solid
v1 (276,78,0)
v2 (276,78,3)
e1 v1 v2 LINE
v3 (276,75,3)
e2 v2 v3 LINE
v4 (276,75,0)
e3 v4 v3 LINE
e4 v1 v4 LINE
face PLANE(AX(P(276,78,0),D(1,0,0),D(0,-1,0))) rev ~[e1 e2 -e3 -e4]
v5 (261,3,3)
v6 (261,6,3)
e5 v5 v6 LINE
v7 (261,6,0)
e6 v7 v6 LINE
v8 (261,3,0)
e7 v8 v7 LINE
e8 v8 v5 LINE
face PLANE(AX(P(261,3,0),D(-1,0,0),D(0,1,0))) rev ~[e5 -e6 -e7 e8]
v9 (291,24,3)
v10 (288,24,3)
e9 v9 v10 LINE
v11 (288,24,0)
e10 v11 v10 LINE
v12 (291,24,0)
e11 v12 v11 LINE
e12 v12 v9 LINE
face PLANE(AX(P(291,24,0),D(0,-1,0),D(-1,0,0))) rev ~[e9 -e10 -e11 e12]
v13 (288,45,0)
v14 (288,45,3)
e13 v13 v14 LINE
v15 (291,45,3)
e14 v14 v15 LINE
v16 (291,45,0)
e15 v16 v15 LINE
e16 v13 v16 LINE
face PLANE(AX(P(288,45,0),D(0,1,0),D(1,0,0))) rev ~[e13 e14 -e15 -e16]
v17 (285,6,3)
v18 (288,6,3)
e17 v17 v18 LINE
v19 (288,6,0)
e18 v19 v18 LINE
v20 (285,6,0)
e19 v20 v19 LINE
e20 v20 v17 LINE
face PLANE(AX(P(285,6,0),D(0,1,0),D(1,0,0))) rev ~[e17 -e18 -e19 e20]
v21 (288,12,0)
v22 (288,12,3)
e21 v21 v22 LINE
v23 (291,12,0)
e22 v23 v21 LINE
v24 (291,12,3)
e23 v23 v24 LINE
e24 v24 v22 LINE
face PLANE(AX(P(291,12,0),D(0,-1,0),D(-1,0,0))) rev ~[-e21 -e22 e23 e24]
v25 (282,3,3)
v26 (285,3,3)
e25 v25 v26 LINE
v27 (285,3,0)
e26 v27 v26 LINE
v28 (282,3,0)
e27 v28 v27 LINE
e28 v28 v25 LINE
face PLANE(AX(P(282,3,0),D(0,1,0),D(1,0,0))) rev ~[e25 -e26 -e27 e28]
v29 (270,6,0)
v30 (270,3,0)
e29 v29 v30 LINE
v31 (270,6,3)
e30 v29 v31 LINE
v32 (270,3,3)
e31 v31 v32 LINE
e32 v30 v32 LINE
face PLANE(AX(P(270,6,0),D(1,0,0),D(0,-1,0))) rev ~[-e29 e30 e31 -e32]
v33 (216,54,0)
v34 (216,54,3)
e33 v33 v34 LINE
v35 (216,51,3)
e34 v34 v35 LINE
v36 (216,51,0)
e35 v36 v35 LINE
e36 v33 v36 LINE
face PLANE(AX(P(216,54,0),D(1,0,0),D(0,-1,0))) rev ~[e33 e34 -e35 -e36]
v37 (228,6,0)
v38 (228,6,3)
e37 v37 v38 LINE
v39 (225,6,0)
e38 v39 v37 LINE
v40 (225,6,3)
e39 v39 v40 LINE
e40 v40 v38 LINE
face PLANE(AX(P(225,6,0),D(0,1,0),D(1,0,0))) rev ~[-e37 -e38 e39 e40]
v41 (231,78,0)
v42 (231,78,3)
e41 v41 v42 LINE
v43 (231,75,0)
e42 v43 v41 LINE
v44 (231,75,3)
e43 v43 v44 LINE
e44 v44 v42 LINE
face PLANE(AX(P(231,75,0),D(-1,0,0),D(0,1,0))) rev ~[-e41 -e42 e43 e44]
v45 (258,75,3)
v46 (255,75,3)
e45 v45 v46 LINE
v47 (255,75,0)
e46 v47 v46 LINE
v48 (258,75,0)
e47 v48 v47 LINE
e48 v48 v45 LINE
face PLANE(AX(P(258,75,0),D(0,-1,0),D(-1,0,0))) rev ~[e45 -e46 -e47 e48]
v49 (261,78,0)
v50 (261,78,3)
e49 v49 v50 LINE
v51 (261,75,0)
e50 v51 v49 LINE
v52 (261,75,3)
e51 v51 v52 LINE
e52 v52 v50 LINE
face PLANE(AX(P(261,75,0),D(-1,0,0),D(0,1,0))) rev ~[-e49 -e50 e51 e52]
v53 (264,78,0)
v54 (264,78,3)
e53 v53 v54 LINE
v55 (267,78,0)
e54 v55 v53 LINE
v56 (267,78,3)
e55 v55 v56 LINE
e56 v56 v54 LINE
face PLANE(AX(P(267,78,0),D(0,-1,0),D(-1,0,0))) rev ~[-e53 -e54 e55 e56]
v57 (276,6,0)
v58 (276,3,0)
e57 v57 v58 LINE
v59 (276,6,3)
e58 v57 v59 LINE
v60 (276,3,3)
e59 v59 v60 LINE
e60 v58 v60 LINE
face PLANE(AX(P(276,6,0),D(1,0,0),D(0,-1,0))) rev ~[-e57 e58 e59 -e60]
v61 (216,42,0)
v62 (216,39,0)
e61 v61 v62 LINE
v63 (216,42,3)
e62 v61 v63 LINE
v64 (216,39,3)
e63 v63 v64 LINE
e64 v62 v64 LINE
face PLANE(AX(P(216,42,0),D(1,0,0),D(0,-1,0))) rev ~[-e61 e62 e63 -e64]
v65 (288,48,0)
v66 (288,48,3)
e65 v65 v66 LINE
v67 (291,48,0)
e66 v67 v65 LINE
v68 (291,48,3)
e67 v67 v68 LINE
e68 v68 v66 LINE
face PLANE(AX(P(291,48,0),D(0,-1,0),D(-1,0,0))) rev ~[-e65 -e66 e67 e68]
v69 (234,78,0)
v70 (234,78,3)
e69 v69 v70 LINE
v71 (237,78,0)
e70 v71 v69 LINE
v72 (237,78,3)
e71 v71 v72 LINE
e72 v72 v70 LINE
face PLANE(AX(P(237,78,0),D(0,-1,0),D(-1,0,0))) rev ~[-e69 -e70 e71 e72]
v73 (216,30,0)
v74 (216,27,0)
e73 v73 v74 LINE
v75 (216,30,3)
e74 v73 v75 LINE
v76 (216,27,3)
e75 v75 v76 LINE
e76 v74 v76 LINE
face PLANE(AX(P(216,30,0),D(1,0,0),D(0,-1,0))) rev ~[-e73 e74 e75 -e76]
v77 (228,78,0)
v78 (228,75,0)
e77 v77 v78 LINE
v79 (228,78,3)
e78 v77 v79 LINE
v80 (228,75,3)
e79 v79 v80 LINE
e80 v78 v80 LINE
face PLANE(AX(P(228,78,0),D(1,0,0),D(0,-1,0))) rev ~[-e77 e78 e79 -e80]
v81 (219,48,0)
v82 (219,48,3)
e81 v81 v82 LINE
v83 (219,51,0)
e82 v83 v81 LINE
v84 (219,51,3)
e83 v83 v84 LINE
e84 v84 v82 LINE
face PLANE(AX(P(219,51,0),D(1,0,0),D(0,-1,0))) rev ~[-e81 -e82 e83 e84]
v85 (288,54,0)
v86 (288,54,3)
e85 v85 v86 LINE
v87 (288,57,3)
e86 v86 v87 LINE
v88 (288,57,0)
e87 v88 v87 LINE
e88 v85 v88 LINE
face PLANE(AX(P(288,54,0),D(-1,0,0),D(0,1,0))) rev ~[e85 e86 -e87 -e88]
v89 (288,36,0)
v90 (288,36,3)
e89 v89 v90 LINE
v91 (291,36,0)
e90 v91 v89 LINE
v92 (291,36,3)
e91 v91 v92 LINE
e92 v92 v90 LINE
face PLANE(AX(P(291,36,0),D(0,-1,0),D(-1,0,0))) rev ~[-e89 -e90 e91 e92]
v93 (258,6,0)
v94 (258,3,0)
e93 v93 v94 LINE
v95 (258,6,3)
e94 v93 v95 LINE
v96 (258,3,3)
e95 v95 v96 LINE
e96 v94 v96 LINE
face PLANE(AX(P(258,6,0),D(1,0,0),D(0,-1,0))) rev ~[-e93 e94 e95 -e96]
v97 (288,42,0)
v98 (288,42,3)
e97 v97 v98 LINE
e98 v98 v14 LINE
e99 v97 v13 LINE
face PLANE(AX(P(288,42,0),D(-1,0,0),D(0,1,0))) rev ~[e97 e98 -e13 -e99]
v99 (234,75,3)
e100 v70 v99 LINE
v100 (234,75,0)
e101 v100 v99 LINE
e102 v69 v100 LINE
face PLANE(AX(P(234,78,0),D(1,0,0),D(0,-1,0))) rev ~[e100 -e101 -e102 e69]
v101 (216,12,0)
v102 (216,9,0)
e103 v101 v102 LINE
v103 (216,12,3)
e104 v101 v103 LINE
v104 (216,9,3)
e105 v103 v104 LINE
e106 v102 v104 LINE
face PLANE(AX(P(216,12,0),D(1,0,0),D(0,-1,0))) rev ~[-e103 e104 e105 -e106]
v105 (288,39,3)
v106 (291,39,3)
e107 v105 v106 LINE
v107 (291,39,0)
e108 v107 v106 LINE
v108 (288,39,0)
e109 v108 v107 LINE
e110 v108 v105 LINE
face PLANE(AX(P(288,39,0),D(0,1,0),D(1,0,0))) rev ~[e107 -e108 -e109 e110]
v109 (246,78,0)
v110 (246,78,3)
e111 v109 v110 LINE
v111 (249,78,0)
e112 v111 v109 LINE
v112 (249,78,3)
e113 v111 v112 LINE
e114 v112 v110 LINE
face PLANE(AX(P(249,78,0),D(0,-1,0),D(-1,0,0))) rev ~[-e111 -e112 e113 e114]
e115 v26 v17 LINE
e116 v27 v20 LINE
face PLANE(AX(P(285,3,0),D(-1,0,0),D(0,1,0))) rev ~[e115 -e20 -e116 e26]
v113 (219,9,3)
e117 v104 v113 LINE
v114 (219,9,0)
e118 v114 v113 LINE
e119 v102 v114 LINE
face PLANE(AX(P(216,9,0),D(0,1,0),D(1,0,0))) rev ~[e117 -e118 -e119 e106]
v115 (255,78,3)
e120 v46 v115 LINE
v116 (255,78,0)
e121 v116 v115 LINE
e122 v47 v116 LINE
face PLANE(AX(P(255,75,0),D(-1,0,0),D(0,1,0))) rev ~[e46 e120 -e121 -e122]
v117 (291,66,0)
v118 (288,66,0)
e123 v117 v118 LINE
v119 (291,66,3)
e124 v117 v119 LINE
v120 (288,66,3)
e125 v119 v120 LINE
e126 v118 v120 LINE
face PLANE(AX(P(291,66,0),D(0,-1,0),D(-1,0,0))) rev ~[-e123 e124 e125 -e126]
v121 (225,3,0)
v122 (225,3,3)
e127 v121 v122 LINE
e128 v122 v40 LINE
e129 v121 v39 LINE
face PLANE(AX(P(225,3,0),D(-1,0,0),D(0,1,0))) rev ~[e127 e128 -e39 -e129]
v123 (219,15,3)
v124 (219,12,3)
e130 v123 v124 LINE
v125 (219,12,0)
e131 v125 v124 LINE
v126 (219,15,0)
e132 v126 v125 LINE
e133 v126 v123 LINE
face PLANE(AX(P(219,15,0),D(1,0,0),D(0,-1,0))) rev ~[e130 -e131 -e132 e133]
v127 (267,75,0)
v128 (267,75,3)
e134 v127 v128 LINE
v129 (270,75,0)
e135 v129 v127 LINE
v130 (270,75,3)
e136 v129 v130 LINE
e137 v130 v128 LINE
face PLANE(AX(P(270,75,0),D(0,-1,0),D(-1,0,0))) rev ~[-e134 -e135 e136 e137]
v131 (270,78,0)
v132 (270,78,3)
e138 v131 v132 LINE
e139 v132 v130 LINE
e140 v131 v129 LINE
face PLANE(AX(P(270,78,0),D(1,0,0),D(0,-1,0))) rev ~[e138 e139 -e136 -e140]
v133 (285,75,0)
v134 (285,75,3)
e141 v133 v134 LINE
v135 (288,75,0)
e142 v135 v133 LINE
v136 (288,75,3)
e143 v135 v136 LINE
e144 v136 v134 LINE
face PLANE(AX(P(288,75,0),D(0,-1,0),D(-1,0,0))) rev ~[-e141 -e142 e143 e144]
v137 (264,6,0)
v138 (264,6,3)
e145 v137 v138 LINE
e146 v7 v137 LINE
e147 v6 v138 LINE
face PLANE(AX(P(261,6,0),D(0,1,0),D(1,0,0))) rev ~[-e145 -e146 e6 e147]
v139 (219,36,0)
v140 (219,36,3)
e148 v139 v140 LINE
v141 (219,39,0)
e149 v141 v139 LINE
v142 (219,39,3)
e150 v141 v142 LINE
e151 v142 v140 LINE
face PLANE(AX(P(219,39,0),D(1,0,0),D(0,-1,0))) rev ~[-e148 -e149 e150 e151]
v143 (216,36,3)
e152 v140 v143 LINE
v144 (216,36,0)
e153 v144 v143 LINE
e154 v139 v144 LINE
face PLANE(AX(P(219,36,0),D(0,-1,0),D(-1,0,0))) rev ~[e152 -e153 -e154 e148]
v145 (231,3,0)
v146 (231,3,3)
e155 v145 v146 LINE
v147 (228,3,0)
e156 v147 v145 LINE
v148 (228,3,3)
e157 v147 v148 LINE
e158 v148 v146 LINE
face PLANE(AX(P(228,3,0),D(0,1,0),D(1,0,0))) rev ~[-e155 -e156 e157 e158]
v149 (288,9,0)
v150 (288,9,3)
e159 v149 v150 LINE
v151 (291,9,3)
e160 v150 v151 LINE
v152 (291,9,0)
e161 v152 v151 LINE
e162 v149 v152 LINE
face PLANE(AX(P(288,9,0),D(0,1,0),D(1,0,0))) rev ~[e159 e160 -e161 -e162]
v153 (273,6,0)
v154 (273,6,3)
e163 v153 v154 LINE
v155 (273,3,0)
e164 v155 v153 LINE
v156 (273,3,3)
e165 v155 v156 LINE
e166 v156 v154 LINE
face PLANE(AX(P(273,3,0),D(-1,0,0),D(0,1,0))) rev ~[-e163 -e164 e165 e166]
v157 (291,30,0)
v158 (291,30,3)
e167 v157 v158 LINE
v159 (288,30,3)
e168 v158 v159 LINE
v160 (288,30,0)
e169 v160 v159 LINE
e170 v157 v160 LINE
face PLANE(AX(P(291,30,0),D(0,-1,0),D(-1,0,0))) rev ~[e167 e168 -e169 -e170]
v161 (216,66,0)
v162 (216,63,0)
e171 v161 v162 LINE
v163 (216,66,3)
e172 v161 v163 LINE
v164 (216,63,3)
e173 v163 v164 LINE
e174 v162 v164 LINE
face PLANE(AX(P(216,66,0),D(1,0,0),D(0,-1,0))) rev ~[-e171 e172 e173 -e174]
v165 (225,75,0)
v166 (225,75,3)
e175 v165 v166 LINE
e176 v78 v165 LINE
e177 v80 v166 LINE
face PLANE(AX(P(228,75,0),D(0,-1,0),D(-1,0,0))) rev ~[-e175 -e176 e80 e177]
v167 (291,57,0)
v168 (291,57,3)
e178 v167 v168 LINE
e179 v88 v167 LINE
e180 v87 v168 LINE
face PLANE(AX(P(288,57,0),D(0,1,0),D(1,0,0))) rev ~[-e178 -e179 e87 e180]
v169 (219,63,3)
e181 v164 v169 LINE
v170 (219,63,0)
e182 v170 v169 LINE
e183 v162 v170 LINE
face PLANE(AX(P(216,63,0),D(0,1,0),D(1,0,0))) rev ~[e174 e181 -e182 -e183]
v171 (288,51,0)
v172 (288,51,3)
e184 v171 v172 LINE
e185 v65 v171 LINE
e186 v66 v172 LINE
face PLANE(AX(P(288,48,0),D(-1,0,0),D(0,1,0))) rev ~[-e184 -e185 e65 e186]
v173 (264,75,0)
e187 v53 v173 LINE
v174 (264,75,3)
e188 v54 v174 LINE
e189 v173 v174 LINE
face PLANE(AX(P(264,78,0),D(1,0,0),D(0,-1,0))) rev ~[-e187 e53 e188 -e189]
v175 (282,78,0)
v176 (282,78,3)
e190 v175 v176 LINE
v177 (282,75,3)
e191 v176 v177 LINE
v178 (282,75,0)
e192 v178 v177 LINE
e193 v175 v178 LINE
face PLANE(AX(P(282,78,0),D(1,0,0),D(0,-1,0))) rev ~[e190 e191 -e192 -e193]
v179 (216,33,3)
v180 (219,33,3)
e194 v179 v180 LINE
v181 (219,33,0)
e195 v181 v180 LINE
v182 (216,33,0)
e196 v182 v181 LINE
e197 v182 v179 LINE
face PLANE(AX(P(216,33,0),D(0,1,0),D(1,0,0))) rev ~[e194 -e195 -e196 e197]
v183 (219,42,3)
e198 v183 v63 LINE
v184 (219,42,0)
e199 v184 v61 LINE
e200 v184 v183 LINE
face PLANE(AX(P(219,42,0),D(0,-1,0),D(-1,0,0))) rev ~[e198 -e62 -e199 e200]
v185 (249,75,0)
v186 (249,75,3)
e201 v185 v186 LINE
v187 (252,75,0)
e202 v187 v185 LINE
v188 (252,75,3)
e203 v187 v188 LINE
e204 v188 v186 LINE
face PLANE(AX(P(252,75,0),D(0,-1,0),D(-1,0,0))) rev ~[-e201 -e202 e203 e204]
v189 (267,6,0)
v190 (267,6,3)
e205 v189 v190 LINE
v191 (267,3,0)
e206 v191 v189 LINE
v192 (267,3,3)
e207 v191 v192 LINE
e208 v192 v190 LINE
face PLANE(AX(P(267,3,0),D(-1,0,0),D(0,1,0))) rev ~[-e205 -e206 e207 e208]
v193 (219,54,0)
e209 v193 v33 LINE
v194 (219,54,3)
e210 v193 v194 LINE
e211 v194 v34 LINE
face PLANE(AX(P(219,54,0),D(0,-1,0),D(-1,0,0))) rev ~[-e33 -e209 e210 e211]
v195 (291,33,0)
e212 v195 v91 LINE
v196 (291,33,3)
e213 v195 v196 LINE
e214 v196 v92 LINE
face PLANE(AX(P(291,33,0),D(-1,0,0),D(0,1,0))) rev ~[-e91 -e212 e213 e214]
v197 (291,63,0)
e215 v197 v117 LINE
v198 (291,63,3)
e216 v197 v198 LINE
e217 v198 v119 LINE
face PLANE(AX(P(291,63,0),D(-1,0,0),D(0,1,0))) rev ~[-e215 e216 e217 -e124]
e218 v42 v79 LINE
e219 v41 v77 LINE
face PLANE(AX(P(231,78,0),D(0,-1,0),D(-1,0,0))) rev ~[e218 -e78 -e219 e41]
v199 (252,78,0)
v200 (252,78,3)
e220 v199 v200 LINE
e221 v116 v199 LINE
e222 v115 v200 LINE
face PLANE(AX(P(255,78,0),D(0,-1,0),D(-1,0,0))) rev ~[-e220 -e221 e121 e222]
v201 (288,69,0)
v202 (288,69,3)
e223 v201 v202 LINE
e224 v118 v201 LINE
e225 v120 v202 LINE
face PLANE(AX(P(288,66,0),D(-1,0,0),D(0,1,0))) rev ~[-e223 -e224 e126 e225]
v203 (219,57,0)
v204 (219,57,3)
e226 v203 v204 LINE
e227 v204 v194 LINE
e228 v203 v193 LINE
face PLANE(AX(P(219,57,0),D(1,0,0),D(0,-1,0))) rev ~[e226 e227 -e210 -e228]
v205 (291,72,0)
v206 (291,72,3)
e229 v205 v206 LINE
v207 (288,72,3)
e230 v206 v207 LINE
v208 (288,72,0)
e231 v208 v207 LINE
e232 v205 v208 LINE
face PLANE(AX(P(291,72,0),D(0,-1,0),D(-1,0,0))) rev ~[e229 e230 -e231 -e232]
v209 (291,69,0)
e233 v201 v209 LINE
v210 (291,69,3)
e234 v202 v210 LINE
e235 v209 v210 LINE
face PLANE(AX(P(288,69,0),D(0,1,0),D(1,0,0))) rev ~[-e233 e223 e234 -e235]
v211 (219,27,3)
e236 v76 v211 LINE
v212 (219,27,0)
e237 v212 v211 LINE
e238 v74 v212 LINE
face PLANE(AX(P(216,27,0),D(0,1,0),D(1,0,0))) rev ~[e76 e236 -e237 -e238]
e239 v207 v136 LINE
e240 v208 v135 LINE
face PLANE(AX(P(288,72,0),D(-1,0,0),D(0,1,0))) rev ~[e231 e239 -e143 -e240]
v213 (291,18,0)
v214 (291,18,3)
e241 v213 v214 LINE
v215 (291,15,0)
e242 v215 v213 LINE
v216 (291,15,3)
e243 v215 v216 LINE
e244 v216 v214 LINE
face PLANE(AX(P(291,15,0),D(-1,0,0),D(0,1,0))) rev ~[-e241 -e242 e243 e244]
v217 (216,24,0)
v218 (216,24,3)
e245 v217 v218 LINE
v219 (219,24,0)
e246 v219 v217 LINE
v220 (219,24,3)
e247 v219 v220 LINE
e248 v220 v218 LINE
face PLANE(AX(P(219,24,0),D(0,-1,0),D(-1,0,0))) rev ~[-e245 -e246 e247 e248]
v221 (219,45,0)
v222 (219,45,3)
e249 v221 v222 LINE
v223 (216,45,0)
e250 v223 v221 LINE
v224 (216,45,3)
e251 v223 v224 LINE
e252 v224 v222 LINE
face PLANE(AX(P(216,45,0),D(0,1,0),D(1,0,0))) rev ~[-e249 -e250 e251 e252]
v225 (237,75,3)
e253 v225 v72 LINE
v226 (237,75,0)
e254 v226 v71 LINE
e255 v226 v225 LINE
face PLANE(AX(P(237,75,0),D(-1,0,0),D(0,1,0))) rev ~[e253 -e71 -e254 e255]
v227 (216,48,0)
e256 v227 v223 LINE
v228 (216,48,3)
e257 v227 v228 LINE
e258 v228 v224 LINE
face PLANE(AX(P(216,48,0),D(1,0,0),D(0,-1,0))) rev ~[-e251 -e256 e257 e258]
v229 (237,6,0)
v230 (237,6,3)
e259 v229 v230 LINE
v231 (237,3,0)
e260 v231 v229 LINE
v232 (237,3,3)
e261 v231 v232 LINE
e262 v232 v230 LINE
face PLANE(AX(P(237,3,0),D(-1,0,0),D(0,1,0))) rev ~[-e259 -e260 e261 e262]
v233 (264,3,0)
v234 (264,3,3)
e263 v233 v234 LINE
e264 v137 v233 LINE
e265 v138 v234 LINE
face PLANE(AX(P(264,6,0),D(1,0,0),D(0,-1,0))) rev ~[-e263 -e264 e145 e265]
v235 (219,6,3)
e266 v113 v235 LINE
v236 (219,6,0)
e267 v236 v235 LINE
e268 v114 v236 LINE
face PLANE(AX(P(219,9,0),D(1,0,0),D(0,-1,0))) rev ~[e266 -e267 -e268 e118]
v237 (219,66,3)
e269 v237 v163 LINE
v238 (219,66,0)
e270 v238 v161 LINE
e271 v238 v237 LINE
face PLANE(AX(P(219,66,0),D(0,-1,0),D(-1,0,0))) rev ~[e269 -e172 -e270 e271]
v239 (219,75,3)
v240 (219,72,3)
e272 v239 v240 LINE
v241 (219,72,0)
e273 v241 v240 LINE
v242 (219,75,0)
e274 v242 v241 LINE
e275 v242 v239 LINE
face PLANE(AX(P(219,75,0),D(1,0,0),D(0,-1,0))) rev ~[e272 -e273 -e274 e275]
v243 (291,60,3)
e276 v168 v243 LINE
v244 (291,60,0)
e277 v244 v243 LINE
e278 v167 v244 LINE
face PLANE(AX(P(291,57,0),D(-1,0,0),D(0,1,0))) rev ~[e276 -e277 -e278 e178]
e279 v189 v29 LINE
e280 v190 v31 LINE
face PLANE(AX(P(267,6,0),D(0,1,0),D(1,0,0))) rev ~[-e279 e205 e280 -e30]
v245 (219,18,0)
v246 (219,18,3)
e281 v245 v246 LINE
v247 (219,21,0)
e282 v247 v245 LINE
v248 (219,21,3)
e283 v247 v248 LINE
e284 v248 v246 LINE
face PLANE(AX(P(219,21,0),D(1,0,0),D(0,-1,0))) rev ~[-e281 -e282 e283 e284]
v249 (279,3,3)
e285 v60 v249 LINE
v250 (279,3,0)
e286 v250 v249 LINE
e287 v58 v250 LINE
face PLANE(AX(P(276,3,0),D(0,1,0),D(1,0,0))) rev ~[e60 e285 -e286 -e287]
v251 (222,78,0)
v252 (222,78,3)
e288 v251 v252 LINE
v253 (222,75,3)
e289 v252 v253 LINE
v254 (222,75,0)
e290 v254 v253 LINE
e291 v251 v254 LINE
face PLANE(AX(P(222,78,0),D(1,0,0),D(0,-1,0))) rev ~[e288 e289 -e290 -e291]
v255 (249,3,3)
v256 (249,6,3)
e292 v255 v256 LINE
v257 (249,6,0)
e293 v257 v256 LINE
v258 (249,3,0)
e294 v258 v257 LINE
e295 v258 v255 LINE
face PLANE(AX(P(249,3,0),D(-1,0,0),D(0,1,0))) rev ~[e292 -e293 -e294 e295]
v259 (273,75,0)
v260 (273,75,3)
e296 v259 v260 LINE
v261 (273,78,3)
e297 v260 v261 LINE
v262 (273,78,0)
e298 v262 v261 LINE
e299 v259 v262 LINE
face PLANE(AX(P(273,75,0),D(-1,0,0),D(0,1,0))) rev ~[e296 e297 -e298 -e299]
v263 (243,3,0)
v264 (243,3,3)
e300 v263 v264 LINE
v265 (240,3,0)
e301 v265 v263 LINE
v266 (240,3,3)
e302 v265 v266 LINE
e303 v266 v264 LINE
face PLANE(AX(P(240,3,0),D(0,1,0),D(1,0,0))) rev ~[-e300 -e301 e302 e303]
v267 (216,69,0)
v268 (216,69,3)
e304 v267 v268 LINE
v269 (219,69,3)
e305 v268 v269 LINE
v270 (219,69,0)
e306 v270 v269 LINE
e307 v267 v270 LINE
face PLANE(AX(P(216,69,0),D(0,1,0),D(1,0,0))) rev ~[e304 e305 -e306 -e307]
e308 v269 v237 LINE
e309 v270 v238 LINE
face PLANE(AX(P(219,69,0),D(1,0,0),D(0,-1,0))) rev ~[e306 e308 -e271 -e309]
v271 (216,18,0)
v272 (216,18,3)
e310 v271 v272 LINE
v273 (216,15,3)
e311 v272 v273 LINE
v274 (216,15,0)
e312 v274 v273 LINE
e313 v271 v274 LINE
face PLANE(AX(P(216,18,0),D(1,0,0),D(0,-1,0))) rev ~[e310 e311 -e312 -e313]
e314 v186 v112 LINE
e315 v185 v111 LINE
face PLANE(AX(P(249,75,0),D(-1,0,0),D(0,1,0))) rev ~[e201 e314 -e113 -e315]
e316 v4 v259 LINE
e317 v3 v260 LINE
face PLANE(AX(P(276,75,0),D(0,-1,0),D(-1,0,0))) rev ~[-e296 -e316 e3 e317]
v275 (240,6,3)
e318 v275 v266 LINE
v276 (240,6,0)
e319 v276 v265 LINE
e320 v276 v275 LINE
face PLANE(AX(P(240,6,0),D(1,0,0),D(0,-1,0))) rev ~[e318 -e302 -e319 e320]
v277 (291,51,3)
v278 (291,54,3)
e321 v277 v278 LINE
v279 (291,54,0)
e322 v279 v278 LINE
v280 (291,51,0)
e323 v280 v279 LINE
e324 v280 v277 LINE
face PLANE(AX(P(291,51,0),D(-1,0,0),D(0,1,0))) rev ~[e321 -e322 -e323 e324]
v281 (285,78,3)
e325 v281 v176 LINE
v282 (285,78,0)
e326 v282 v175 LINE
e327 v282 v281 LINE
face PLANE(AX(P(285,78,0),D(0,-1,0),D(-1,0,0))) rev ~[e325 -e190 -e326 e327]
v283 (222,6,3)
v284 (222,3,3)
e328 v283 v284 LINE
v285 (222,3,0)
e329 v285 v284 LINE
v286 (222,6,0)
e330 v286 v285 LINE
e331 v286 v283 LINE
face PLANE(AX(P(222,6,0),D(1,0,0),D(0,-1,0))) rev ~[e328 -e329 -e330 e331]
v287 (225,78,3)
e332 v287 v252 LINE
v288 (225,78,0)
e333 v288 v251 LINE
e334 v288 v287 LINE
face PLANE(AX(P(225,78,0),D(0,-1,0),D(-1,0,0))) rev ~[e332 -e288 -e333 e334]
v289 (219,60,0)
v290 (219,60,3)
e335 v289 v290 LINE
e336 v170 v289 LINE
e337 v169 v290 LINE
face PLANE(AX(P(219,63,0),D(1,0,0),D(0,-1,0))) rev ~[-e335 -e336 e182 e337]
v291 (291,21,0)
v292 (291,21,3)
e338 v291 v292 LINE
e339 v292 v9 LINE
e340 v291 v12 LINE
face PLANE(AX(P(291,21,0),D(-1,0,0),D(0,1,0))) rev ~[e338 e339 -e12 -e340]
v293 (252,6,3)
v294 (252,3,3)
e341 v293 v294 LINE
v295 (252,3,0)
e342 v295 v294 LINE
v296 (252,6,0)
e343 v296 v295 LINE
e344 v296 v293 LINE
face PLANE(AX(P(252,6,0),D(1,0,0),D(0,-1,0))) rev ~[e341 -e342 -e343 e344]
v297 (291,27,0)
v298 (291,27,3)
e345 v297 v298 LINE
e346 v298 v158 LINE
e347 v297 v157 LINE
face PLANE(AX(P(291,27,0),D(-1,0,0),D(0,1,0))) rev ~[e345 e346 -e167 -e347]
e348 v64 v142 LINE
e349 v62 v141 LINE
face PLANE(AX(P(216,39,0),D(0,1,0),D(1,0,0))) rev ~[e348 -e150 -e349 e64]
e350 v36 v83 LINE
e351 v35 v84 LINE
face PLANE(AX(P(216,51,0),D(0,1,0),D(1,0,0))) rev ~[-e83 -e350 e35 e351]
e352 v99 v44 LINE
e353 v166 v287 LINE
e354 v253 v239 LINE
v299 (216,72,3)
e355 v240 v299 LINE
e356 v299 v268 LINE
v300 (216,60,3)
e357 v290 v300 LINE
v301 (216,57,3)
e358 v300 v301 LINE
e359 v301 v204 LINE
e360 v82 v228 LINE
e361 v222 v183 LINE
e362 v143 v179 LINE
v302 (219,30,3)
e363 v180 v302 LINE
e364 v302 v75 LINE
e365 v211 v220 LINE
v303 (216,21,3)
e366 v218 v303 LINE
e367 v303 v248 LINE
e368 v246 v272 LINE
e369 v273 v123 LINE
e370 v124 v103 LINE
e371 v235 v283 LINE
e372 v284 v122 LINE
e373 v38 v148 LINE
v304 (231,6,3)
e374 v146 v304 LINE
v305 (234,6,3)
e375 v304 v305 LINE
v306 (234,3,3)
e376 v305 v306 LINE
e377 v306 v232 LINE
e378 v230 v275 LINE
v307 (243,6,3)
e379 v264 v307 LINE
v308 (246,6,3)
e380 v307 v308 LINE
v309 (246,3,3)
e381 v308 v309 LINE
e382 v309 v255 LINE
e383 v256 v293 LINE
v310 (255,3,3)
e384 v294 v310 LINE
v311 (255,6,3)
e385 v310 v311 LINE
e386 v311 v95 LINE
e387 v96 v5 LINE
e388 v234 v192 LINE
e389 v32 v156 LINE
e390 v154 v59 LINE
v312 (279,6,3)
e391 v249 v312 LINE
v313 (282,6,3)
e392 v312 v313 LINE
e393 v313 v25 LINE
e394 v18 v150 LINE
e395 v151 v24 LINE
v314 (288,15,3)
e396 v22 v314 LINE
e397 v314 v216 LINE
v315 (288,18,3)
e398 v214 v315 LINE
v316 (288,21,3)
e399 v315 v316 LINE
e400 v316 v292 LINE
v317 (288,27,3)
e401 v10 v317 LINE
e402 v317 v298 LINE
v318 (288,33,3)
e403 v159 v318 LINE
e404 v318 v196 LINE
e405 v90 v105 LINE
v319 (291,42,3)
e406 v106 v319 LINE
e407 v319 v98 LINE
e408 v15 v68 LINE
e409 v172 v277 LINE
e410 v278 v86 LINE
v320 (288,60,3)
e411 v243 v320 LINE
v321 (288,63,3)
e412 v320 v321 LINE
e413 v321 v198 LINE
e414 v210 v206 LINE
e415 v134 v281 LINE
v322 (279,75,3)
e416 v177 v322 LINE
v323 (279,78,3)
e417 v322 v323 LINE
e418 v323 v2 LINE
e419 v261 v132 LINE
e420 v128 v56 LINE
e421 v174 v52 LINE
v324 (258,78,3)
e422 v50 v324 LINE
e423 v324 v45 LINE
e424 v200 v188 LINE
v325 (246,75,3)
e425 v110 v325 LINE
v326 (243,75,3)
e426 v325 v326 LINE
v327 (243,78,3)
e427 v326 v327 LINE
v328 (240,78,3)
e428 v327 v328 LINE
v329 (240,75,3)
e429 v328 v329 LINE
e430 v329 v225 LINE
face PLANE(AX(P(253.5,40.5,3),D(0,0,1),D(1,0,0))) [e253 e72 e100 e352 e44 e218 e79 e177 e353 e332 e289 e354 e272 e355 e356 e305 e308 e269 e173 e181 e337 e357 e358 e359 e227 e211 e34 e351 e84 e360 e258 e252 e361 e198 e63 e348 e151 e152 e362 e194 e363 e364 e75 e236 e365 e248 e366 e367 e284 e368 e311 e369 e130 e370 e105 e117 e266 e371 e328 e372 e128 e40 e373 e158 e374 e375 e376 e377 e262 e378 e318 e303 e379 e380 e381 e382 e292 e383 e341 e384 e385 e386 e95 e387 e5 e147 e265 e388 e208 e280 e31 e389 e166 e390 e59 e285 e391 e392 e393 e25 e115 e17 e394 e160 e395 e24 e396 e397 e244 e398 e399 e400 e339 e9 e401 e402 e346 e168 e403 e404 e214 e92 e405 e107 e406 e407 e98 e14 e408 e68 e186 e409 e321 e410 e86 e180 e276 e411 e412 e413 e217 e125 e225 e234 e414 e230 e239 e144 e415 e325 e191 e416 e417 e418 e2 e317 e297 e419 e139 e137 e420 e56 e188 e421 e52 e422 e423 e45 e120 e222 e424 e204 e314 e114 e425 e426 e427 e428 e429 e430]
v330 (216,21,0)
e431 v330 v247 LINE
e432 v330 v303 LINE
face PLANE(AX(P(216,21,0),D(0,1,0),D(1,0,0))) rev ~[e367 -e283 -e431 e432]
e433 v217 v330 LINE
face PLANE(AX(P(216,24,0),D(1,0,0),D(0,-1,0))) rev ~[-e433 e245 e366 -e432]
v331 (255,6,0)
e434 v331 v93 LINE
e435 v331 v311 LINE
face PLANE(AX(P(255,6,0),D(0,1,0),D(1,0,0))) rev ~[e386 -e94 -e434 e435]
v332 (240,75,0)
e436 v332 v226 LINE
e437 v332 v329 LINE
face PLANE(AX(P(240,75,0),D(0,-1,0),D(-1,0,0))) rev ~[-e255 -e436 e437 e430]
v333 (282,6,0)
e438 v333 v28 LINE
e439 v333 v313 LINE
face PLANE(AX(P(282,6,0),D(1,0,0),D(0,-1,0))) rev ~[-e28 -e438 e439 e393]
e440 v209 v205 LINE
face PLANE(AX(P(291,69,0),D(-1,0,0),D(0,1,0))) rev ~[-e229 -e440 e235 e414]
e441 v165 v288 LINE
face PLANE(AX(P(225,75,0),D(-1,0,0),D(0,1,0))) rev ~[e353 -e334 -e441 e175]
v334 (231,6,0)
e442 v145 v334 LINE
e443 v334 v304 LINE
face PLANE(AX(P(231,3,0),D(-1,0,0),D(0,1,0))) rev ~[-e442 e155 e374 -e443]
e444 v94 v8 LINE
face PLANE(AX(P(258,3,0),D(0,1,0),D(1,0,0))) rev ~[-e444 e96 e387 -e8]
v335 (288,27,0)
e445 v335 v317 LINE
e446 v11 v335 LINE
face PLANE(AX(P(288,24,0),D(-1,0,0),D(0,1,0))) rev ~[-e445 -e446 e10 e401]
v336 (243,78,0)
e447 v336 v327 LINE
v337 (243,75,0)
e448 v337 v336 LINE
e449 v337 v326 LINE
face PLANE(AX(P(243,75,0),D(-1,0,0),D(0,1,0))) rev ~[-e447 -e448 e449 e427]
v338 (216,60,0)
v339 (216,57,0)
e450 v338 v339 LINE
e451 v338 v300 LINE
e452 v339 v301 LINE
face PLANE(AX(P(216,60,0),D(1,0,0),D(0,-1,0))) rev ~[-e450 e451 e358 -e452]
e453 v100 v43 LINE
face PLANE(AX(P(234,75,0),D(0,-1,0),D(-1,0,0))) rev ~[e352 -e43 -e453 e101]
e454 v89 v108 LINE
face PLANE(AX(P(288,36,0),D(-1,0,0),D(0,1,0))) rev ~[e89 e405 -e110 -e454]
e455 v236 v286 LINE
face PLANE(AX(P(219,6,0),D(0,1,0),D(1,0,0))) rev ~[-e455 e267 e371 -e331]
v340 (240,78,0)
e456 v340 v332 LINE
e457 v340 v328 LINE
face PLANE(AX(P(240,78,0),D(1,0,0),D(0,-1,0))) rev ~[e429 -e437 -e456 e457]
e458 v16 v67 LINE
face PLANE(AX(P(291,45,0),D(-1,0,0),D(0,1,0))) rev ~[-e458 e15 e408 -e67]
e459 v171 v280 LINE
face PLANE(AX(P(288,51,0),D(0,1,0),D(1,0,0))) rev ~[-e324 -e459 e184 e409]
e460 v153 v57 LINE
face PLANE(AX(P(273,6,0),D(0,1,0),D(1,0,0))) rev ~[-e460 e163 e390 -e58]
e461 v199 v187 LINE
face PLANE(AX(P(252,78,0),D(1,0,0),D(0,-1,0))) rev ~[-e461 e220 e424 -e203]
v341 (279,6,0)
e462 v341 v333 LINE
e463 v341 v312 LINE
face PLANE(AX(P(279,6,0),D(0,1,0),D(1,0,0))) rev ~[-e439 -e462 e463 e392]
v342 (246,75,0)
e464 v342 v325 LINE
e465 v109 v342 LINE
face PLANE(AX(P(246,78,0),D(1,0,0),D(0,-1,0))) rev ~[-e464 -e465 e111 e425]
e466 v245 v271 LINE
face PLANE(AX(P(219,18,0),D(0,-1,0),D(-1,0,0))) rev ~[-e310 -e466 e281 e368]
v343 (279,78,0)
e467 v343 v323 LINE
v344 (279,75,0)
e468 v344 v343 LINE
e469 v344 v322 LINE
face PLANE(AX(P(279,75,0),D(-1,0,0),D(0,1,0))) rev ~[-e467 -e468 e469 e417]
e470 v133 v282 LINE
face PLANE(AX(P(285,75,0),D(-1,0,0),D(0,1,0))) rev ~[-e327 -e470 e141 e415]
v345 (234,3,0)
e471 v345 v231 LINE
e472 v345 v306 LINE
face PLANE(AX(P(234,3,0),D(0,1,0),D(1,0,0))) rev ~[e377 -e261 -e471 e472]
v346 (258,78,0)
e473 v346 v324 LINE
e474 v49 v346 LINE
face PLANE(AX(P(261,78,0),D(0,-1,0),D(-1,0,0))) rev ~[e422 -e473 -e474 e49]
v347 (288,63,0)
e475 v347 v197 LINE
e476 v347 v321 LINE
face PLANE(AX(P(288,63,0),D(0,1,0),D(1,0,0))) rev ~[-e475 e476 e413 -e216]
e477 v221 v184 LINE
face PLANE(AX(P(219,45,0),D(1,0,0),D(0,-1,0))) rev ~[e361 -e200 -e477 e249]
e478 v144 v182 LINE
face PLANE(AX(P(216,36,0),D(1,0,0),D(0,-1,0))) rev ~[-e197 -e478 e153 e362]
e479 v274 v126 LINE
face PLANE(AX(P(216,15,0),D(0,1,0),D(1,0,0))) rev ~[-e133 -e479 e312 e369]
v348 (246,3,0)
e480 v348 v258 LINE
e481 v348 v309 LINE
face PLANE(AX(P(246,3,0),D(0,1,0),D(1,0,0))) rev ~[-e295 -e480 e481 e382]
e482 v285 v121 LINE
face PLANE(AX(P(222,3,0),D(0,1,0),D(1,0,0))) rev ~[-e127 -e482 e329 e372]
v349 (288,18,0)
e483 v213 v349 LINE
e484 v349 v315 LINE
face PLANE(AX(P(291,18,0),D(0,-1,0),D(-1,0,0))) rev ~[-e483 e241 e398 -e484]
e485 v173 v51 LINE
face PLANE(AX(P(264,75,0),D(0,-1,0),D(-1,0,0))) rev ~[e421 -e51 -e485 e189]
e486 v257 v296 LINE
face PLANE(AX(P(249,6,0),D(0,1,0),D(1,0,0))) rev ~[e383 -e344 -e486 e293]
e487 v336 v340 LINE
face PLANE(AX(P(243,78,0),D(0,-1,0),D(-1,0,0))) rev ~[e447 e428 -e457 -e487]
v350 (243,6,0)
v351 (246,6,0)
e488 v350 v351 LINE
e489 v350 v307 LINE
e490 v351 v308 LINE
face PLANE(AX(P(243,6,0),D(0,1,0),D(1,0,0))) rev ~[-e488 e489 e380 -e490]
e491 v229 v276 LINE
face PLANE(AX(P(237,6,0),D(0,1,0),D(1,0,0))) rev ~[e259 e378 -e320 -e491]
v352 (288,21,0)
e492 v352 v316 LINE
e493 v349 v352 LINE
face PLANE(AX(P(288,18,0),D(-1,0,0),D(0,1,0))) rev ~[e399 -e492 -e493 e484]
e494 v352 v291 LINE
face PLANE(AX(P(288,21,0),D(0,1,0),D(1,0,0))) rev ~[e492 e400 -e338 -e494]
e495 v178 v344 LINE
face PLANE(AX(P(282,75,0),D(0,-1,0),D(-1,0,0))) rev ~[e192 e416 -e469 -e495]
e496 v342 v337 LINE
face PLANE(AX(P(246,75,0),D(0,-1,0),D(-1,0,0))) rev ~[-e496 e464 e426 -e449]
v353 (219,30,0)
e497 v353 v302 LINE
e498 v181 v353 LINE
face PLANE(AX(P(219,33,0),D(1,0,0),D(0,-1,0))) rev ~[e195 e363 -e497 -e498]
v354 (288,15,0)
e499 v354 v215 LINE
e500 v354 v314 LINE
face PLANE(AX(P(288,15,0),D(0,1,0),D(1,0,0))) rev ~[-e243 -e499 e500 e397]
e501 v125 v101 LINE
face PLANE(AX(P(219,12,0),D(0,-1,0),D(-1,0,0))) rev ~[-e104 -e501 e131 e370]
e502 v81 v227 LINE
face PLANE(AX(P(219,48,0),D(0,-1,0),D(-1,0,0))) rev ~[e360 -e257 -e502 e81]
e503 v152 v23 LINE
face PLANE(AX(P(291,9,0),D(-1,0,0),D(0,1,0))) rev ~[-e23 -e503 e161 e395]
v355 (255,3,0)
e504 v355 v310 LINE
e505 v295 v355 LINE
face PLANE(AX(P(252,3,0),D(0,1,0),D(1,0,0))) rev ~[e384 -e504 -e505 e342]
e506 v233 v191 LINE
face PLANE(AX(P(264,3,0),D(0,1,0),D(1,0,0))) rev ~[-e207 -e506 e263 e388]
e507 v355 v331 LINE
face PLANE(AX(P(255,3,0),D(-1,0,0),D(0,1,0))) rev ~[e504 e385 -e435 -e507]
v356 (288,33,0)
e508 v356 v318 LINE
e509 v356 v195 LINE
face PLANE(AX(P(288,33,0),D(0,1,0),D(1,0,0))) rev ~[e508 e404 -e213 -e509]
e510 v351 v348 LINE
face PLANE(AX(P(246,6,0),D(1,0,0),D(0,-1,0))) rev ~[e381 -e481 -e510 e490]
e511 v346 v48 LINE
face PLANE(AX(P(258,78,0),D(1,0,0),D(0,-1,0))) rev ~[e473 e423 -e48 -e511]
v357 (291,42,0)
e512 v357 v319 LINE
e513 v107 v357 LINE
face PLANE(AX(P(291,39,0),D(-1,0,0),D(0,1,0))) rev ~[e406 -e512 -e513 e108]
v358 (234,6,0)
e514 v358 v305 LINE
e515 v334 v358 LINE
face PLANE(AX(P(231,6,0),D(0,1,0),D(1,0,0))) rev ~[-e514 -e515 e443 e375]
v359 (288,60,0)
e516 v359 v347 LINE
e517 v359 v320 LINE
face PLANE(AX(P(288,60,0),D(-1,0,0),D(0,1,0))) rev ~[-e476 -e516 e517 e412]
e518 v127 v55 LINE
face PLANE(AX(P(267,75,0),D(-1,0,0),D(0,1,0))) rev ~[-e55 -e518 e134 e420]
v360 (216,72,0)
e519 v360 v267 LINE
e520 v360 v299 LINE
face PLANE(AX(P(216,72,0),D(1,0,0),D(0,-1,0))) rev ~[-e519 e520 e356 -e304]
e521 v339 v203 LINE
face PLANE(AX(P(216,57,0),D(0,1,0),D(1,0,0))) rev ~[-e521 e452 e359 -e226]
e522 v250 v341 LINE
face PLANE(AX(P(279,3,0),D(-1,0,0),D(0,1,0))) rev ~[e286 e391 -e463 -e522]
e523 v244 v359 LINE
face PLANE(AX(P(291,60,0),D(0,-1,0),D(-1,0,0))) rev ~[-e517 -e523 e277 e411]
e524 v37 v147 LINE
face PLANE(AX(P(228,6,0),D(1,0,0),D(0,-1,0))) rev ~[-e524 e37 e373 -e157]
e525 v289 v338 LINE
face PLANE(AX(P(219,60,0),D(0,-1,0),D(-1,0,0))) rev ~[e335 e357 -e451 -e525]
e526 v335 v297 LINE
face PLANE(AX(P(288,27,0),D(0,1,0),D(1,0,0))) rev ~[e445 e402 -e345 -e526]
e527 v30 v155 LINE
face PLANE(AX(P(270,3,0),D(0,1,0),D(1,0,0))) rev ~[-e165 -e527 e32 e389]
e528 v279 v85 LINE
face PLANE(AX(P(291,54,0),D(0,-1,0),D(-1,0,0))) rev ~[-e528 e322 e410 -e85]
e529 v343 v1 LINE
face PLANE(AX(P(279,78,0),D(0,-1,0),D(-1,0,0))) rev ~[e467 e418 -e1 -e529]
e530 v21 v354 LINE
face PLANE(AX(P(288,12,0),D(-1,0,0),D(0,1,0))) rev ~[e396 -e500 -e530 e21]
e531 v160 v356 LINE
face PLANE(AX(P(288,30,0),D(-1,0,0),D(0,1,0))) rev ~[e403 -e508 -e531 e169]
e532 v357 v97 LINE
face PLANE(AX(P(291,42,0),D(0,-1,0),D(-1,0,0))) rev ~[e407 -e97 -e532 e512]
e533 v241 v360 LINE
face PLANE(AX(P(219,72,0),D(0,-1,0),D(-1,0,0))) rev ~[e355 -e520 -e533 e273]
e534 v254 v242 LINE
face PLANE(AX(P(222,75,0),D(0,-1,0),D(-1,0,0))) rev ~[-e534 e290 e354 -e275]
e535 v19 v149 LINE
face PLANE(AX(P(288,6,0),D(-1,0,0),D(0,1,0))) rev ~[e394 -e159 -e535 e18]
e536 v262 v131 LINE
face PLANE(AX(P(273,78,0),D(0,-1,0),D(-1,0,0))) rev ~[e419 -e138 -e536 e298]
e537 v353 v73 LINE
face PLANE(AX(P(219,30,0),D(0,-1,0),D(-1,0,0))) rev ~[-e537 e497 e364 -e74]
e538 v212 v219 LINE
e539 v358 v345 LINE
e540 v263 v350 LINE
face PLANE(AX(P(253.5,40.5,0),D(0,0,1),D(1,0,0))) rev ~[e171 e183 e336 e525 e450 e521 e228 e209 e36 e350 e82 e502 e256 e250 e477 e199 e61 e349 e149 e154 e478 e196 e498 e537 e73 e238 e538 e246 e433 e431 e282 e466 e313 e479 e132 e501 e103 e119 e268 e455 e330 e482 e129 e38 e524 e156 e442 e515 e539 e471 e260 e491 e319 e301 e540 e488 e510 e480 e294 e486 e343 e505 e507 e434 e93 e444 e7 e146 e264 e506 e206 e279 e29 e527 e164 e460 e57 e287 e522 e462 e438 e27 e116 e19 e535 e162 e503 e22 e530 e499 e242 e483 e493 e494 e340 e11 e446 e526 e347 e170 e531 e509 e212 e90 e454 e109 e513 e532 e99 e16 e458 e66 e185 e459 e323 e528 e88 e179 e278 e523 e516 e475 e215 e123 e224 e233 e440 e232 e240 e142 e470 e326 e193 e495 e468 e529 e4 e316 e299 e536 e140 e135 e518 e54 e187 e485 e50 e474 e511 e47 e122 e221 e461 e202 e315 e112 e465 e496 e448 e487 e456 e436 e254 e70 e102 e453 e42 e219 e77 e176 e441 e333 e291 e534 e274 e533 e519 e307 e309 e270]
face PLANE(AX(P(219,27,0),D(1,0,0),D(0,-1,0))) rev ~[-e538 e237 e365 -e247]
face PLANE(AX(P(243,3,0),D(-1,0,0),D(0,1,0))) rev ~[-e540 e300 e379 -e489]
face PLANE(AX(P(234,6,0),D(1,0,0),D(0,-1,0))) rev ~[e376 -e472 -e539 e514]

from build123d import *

# Parameters (mm, degrees)
BOSS_EXTRUDE1_DEPTH = 3


with BuildPart() as part:
    # Sketch1 → Boss-Extrude1 (new body)
    with BuildSketch(Plane.XY):
        Polygon((219, 51), (219, 48), (216, 48), (216, 45), (219, 45), (219, 42), (216, 42), (216, 39), (219, 39), (219, 36), (216, 36), (216, 33), (219, 33), (219, 30), (216, 30), (216, 27), (219, 27), (219, 24), (216, 24), (216, 21), (219, 21), (219, 18), (216, 18), (216, 15), (219, 15), (219, 12), (216, 12), (216, 9), (219, 9), (219, 6), (222, 6), (222, 3), (225, 3), (225, 6), (228, 6), (228, 3), (231, 3), (231, 6), (234, 6), (234, 3), (237, 3), (237, 6), (240, 6), (240, 3), (243, 3), (243, 6), (246, 6), (246, 3), (249, 3), (249, 6), (252, 6), (252, 3), (255, 3), (255, 6), (258, 6), (258, 3), (261, 3), (261, 6), (264, 6), (264, 3), (267, 3), (267, 6), (270, 6), (270, 3), (273, 3), (273, 6), (276, 6), (276, 3), (279, 3), (279, 6), (282, 6), (282, 3), (285, 3), (285, 6), (288, 6), (288, 9), (291, 9), (291, 12), (288, 12), (288, 15), (291, 15), (291, 18), (288, 18), (288, 21), (291, 21), (291, 24), (288, 24), (288, 27), (291, 27), (291, 30), (288, 30), (288, 33), (291, 33), (291, 36), (288, 36), (288, 39), (291, 39), (291, 42), (288, 42), (288, 45), (291, 45), (291, 48), (288, 48), (288, 51), (291, 51), (291, 54), (288, 54), (288, 57), (291, 57), (291, 60), (288, 60), (288, 63), (291, 63), (291, 66), (288, 66), (288, 69), (291, 69), (291, 72), (288, 72), (288, 75), (285, 75), (285, 78), (282, 78), (282, 75), (279, 75), (279, 78), (276, 78), (276, 75), (273, 75), (273, 78), (270, 78), (270, 75), (267, 75), (267, 78), (264, 78), (264, 75), (261, 75), (261, 78), (258, 78), (258, 75), (255, 75), (255, 78), (252, 78), (252, 75), (249, 75), (249, 78), (246, 78), (246, 75), (243, 75), (243, 78), (240, 78), (240, 75), (237, 75), (237, 78), (234, 78), (234, 75), (231, 75), (231, 78), (228, 78), (228, 75), (225, 75), (225, 78), (222, 78), (222, 75), (219, 75), (219, 72), (216, 72), (216, 69), (219, 69), (219, 66), (216, 66), (216, 63), (219, 63), (219, 60), (216, 60), (216, 57), (219, 57), (219, 54), (216, 54), (216, 51), align=None)
    extrude(amount=BOSS_EXTRUDE1_DEPTH)


solid = part.part
